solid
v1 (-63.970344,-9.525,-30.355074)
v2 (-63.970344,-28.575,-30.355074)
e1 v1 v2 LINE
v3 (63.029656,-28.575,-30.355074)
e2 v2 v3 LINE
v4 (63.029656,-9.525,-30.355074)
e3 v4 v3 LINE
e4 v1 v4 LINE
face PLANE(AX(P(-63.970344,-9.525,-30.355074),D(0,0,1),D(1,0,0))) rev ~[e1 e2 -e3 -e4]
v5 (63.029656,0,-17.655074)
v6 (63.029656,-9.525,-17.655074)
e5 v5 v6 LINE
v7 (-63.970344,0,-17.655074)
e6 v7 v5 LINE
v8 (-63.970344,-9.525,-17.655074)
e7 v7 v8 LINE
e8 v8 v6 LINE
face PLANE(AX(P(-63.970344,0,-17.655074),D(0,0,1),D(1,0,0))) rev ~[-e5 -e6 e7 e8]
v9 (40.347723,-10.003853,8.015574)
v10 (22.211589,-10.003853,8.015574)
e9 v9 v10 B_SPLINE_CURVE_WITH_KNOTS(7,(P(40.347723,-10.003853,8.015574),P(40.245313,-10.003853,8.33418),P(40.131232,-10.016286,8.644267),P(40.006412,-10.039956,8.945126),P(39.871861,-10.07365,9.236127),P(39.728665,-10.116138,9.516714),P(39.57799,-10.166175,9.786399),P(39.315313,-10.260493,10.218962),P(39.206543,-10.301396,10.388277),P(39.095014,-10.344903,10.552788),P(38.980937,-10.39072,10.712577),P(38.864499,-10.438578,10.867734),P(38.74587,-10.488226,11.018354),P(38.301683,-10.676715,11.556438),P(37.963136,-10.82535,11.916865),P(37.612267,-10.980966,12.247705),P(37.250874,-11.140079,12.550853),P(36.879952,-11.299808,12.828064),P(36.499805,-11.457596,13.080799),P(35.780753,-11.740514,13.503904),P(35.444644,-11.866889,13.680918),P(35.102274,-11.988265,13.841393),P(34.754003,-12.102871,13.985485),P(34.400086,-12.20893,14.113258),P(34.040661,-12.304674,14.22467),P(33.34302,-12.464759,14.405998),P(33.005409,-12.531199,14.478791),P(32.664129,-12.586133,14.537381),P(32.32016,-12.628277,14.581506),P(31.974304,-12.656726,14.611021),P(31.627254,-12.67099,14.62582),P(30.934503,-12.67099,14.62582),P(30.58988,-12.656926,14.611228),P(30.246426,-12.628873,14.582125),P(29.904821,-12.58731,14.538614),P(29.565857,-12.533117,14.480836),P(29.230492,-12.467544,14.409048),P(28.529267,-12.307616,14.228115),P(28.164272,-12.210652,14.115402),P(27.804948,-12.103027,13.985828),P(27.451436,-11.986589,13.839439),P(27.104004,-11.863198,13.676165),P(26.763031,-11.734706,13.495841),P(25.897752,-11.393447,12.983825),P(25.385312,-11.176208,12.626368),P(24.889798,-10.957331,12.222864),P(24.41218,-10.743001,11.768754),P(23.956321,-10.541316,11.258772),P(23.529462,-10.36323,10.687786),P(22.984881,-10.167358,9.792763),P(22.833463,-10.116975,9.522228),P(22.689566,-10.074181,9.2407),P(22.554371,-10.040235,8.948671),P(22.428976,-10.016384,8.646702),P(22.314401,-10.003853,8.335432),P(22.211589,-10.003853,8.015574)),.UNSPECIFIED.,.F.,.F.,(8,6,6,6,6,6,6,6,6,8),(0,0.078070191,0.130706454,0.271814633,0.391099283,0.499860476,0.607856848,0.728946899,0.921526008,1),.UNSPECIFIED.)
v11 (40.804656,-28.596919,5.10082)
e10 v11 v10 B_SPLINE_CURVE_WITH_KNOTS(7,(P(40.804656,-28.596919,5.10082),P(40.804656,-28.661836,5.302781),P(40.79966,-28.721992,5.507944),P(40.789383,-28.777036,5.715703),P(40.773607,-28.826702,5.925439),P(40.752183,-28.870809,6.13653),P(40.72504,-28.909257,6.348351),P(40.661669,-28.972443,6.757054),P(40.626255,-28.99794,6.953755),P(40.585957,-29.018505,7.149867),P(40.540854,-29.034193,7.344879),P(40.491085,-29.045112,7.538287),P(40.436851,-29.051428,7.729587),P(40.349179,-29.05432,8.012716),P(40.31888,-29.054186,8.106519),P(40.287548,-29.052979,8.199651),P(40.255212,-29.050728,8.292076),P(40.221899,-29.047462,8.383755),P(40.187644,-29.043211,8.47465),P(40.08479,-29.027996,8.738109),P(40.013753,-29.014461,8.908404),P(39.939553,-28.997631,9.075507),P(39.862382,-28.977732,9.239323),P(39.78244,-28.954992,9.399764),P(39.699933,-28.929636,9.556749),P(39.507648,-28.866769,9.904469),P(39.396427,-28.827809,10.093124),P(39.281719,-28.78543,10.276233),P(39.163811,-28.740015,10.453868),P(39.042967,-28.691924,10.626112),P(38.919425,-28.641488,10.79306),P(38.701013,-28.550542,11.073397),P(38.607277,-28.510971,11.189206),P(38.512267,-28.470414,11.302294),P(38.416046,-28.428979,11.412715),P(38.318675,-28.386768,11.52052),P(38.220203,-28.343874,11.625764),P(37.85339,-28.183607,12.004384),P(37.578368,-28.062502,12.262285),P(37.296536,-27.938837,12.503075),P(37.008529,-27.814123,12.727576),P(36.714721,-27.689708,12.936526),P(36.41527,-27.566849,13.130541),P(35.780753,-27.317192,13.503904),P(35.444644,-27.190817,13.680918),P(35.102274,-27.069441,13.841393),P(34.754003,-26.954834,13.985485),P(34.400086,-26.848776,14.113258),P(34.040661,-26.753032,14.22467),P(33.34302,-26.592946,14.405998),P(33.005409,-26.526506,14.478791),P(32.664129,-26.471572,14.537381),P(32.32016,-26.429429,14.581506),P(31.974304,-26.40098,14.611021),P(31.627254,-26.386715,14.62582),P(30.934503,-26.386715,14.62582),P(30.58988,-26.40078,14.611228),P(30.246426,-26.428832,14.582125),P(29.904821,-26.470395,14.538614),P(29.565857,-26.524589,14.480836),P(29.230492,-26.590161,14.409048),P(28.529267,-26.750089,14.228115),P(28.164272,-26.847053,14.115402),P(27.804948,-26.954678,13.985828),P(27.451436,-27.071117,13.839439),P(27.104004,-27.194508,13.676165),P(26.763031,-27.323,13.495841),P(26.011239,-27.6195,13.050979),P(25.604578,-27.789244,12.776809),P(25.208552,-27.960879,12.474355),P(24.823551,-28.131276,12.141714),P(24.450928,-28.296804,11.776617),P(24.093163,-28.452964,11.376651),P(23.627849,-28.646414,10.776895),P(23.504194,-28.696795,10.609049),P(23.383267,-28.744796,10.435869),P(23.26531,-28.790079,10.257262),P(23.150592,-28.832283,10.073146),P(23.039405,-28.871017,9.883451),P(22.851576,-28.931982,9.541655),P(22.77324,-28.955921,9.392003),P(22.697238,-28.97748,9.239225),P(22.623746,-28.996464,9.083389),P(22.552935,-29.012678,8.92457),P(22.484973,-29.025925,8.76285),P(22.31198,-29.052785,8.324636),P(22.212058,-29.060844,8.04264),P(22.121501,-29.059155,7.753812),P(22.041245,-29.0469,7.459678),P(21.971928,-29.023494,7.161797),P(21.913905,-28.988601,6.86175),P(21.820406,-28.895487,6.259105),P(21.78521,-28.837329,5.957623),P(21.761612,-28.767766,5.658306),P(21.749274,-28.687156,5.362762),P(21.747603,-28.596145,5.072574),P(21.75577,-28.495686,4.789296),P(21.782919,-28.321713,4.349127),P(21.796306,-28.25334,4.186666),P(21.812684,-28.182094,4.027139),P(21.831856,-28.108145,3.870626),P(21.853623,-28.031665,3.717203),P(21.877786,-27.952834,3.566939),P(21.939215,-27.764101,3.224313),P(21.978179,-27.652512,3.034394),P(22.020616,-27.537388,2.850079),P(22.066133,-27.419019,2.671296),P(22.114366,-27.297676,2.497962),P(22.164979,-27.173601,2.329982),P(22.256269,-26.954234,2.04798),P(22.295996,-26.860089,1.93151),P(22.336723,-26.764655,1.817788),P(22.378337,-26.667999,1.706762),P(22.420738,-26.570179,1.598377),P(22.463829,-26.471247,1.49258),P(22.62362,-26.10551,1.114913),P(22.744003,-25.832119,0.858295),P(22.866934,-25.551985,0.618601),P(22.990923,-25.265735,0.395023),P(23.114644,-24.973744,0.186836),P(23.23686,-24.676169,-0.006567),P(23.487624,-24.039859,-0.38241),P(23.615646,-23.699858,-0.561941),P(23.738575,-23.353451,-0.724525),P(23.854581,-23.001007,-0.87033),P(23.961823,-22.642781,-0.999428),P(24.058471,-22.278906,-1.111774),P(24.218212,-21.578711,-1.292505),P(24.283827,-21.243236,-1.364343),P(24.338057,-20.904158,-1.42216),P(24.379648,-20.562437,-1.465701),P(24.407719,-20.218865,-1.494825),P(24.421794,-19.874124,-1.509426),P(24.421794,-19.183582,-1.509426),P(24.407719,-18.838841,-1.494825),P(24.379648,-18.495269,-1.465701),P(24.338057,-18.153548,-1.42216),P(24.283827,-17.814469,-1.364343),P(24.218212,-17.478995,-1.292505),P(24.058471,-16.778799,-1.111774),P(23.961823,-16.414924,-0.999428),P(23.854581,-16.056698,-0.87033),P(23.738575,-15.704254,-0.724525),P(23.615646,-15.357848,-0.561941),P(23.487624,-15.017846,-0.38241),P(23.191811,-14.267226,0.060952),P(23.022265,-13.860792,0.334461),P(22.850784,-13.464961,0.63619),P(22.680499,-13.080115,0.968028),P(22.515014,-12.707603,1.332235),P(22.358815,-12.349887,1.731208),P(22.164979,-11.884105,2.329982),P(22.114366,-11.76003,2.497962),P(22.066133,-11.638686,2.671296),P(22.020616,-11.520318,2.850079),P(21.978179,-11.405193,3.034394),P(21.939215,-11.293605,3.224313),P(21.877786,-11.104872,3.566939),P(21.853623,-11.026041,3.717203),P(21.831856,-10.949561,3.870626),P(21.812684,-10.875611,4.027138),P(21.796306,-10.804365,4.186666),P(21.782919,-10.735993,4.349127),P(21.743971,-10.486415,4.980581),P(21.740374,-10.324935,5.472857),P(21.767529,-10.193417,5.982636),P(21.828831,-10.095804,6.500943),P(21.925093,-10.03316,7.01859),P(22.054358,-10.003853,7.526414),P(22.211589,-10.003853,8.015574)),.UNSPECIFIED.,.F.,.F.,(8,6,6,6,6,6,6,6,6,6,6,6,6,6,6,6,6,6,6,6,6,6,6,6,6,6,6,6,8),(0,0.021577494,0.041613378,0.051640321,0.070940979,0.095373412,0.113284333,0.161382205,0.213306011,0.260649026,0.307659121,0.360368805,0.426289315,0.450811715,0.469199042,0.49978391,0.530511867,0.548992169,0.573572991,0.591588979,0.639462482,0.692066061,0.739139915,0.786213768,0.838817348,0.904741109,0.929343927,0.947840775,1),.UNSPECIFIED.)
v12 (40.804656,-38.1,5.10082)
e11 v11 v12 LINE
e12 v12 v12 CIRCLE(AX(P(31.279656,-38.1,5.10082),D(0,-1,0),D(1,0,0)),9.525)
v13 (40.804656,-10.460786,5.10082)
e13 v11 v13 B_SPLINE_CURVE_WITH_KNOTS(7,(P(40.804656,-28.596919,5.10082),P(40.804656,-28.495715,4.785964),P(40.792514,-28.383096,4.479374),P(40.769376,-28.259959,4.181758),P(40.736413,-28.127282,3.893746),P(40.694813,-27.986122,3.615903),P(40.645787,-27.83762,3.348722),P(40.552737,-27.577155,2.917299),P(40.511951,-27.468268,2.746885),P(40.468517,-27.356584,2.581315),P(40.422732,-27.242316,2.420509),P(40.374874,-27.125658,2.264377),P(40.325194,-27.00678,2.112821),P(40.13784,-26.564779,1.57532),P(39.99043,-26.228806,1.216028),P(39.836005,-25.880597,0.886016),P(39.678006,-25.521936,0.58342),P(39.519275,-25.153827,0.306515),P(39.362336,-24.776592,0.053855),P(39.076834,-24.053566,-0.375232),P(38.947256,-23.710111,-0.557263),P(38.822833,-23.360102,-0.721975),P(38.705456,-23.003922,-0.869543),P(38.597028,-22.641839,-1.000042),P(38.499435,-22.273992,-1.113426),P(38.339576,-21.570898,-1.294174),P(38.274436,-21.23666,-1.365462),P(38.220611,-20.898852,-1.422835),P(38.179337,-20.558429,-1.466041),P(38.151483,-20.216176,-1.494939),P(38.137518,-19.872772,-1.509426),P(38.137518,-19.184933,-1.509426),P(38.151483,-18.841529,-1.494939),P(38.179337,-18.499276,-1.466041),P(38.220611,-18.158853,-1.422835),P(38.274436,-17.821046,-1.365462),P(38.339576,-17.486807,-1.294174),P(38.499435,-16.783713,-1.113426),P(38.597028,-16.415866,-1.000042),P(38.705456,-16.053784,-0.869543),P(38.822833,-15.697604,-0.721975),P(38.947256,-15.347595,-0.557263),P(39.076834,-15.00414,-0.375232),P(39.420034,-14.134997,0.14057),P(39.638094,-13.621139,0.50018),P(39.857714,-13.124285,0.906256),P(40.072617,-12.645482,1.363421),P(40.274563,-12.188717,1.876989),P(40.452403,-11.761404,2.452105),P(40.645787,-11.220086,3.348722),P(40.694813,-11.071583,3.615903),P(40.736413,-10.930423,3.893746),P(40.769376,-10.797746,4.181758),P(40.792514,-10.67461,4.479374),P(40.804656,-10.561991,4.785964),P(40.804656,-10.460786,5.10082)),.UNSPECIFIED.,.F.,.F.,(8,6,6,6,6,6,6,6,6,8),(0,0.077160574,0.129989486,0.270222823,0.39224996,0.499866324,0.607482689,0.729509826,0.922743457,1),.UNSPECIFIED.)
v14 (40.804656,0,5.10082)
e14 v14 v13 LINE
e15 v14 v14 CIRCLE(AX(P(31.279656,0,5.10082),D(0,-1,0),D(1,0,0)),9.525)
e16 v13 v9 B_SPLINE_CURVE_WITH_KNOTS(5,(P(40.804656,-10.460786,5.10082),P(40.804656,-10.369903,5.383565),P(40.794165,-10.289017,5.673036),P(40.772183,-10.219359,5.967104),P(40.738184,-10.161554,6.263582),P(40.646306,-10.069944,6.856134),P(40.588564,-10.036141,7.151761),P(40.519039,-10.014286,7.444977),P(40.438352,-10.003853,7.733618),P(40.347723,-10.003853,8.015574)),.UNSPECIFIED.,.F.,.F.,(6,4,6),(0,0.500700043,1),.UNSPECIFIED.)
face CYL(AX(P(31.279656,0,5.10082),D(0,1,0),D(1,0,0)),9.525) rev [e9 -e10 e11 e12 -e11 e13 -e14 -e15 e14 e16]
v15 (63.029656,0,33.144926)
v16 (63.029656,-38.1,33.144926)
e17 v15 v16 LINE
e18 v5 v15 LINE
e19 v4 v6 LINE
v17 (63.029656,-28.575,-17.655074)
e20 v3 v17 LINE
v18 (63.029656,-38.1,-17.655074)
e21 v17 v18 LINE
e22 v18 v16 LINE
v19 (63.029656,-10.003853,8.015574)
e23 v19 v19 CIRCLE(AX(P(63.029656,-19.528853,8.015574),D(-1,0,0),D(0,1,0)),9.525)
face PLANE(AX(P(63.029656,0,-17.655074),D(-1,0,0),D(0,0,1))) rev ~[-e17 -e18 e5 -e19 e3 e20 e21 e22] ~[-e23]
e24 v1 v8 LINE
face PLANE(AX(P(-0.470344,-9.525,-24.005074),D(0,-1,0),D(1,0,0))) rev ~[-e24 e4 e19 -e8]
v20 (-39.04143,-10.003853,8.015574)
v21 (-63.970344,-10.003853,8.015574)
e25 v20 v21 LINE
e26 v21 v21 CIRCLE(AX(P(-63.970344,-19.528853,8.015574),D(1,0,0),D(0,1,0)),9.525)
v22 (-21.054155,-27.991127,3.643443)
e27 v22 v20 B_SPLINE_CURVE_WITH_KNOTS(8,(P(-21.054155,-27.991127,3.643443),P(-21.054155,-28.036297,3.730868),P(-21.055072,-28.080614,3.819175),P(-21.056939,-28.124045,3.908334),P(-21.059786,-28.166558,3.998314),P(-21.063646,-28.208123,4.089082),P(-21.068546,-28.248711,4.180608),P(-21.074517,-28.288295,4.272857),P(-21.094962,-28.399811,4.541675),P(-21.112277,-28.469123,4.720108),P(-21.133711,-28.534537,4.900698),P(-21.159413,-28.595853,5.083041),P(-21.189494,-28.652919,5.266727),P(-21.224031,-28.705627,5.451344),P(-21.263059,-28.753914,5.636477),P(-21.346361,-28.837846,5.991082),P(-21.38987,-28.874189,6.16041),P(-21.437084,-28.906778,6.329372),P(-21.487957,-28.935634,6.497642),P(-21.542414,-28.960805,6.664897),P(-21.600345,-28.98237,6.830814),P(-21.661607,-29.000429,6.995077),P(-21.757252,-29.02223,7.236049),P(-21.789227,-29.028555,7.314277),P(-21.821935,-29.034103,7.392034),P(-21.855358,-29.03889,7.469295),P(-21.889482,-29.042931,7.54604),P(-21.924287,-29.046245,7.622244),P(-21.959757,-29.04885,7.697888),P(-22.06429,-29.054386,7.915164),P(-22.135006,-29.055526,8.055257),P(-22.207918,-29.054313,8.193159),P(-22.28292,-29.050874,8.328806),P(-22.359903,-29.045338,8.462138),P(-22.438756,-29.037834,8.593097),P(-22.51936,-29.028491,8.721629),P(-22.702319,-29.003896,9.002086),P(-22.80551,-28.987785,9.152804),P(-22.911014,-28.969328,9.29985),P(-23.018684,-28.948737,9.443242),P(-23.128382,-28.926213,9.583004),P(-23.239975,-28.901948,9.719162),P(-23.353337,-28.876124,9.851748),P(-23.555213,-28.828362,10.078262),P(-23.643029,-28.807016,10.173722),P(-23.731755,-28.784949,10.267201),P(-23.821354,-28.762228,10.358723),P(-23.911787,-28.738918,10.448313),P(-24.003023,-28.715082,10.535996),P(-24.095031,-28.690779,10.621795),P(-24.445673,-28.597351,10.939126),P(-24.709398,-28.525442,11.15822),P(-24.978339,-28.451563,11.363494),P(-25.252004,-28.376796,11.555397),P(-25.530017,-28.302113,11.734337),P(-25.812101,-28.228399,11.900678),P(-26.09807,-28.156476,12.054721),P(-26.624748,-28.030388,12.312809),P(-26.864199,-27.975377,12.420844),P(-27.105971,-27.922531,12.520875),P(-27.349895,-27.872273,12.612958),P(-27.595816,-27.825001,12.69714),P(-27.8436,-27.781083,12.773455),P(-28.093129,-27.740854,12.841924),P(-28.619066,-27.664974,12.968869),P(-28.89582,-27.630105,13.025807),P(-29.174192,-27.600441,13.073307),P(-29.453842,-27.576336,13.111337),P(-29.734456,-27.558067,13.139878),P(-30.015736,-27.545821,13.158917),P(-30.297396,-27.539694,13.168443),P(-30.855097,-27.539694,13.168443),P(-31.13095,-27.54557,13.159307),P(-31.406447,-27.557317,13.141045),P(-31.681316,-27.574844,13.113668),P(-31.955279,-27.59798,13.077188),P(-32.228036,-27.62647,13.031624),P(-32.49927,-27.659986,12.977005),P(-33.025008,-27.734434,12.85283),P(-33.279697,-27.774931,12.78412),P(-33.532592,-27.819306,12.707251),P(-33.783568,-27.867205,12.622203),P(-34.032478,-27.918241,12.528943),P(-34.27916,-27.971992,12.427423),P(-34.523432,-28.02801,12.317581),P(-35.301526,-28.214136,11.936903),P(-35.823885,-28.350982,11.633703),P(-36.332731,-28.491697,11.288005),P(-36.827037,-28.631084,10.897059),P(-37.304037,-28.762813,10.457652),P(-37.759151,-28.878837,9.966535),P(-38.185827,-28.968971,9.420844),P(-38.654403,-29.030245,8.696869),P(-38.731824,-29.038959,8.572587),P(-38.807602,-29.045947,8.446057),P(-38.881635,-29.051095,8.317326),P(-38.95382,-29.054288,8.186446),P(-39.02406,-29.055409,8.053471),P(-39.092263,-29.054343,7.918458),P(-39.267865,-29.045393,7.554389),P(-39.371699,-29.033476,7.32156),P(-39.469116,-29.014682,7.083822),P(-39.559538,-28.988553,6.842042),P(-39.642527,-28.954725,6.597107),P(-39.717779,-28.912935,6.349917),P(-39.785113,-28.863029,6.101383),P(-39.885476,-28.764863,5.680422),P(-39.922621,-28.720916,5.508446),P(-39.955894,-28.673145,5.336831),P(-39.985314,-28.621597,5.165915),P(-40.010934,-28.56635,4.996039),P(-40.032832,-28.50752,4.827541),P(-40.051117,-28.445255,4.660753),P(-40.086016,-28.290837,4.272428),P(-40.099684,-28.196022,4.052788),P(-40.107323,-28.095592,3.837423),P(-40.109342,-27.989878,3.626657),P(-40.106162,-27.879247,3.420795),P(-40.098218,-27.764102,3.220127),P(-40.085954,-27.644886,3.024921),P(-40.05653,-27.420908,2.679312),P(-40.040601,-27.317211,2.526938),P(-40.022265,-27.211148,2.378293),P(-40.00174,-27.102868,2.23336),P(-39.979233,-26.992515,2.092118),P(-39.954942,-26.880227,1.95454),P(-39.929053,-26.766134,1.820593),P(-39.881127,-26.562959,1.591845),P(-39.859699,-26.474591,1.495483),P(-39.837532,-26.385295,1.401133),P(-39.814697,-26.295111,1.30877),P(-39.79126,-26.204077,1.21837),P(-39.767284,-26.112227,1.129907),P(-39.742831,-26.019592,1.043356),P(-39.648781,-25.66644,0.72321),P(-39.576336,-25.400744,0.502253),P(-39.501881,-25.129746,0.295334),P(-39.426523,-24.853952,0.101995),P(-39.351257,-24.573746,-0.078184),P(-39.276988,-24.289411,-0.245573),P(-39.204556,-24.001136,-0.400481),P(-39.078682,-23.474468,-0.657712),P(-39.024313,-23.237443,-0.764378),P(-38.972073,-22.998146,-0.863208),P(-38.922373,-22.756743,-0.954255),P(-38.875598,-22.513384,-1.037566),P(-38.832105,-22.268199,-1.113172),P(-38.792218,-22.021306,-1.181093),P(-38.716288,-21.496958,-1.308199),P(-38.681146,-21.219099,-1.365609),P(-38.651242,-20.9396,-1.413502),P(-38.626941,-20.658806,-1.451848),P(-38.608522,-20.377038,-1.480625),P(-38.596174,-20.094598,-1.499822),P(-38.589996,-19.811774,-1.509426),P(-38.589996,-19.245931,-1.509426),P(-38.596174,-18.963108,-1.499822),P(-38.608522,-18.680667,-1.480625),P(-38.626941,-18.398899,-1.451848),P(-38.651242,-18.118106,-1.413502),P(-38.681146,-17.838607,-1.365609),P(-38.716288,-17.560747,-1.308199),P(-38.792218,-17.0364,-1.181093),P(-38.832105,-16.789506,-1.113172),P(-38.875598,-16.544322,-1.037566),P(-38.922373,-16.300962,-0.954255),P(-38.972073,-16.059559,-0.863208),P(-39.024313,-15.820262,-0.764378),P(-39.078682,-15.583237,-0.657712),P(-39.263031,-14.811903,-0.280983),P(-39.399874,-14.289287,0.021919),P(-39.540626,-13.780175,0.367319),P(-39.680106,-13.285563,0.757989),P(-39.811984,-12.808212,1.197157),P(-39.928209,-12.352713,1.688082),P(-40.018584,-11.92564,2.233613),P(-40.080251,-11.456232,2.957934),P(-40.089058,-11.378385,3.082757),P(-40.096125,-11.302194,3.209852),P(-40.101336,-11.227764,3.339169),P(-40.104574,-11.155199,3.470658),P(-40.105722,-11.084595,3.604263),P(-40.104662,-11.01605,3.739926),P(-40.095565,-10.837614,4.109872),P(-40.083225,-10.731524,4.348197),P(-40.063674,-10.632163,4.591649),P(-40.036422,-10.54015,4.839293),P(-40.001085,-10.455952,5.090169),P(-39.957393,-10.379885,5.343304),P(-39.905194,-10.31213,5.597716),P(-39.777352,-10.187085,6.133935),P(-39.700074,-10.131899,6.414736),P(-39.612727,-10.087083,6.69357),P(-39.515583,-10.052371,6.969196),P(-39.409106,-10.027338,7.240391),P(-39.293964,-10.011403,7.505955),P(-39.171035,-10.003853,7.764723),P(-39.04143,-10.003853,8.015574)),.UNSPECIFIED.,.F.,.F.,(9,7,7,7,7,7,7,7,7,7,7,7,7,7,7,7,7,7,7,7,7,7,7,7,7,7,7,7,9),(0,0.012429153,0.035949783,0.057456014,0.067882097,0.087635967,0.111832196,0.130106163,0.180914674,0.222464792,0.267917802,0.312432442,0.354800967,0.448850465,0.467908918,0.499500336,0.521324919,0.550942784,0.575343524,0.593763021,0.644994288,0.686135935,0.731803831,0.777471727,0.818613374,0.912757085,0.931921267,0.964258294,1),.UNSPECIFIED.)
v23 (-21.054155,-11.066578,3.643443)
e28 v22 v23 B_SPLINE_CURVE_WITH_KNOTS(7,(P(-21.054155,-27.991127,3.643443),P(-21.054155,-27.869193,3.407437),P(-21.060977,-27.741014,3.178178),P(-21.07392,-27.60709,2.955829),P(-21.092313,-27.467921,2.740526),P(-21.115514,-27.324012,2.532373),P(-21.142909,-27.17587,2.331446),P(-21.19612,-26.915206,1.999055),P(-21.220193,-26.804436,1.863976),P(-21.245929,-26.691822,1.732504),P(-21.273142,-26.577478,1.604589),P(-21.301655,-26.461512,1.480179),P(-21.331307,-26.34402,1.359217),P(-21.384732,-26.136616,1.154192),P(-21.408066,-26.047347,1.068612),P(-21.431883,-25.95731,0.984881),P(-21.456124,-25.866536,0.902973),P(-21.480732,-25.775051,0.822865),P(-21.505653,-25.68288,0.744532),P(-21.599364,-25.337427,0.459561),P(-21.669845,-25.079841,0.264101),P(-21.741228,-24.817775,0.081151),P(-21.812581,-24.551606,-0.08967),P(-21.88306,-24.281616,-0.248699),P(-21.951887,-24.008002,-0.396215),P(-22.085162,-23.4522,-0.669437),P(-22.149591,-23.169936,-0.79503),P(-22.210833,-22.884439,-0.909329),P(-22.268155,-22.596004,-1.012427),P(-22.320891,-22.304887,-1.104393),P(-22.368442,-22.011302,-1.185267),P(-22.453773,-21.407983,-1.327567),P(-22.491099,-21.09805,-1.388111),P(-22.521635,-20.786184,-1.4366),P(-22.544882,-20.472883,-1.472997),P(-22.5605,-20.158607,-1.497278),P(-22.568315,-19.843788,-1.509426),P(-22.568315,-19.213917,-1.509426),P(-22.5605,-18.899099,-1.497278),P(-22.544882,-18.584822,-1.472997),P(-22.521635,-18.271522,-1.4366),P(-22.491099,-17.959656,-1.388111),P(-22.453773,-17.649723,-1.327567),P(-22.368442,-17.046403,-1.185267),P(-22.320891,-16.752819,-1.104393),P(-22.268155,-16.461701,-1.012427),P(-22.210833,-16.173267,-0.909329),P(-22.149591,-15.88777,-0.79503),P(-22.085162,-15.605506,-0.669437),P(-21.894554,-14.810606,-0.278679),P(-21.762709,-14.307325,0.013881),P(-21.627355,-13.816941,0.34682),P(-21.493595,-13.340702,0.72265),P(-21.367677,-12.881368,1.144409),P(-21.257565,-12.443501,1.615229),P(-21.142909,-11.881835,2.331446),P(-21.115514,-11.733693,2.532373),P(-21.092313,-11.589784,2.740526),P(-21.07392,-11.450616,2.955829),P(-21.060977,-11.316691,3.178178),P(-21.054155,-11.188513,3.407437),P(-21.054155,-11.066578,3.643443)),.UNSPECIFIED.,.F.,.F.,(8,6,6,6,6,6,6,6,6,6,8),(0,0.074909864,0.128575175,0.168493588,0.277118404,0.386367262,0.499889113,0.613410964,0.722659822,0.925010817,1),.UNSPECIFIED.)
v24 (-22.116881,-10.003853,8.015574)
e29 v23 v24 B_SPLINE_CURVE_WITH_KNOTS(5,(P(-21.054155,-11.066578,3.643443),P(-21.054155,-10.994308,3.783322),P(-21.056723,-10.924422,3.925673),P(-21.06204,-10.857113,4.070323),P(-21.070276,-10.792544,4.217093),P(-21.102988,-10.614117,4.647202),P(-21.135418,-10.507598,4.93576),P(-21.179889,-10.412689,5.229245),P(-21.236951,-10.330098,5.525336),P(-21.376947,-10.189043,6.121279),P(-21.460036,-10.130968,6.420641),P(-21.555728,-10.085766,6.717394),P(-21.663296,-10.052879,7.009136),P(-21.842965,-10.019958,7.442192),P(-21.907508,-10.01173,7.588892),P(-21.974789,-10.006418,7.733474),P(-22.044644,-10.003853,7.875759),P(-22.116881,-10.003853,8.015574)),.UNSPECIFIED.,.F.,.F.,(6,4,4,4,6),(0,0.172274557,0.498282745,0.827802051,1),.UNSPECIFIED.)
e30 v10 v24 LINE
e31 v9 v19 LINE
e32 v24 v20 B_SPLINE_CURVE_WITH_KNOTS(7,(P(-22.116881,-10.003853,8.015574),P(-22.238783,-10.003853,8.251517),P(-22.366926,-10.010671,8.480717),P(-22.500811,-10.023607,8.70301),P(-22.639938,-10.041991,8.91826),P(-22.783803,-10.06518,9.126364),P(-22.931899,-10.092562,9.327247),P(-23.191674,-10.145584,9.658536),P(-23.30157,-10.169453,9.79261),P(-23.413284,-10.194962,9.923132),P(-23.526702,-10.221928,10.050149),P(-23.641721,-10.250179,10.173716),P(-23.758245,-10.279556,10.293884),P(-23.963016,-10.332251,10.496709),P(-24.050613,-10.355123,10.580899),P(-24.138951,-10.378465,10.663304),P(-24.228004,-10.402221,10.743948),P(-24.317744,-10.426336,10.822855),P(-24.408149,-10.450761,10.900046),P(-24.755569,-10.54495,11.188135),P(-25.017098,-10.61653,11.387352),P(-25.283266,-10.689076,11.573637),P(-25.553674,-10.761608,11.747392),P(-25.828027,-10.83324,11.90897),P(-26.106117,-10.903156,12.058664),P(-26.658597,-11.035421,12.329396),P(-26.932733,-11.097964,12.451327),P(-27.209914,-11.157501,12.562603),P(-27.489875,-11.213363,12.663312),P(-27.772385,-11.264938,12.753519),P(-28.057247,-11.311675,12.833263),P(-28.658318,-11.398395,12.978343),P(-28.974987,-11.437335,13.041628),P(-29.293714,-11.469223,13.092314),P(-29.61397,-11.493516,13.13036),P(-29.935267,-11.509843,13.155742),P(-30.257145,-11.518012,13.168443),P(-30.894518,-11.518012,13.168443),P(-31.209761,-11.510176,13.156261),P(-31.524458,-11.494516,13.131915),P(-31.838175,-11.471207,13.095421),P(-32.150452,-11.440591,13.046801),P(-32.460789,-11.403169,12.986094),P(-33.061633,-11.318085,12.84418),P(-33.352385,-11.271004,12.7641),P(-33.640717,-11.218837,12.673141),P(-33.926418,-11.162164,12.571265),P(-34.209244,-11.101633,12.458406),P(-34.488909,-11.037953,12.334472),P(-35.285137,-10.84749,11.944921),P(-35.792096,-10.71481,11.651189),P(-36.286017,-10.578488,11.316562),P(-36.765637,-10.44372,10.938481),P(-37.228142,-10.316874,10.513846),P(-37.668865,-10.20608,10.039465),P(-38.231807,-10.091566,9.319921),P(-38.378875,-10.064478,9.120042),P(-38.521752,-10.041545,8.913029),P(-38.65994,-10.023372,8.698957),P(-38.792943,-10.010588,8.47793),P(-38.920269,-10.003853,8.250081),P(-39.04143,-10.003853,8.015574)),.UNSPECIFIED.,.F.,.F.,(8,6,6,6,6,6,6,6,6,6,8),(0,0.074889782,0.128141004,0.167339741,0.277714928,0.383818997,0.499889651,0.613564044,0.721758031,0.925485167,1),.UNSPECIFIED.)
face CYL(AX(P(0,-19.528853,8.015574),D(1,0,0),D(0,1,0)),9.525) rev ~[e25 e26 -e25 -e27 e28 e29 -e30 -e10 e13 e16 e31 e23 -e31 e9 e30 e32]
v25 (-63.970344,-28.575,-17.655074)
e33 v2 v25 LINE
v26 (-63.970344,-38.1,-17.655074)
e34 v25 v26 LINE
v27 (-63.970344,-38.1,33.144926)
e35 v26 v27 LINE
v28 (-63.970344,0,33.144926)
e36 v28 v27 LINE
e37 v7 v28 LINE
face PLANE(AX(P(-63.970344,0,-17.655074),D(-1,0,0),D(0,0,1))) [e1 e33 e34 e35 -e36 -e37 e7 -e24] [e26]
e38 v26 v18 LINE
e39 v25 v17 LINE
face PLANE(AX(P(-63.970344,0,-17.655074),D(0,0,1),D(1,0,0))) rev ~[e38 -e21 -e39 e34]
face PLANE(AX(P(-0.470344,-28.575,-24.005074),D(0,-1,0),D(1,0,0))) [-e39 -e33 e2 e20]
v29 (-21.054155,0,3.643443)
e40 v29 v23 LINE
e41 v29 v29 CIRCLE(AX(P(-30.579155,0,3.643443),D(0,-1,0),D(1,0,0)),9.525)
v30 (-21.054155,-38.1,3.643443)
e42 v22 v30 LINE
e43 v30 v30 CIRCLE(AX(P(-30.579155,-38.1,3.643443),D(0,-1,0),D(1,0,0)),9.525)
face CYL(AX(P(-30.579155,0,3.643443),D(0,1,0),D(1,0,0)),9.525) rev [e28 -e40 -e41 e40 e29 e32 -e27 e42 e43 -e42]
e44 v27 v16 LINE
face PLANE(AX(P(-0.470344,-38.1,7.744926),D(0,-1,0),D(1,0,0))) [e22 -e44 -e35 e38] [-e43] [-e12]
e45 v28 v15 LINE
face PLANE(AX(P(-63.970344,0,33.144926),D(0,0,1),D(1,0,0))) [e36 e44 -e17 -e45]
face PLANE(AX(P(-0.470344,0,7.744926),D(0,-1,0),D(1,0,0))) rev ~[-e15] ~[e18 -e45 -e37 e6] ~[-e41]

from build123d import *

# Parameters (mm, degrees)
F0_W          = 127
F0_H          = 50.8
F0_R          = 9.525
F1_DEPTH      = 38.1
F2_START      = 9.525
F0_H_2        = 12.7
F2_DEPTH      = 19.05
F3_R          = 9.525
F4_DEPTH      = 74.93
F4_DEPTH_BACK = 90.678


with BuildPart() as f1:
    # F0 (on Front) → F1 (new body)
    with BuildSketch(Plane.XZ):
        with Locations((-0.4703439772, 7.7449264884)):
            Rectangle(F0_W, F0_H)
        with Locations((-30.579155311, 3.6434426438)):
            Circle(F0_R, mode=Mode.SUBTRACT)
        with Locations((31.2796560228, 5.1008197479)):
            Circle(F0_R, mode=Mode.SUBTRACT)
    extrude(amount=F1_DEPTH)

    # F0 (on Front) → F2 (join)
    with BuildSketch(Plane.XZ.offset(F2_START)):
        with Locations((-0.4703439772, -24.0050735116)):
            Rectangle(F0_W, F0_H_2)
    extrude(amount=F2_DEPTH)

    # F3 (on Right) → F4 (cut, two sides)
    with BuildSketch(Plane.YZ) as f4_sk:
        with Locations((-19.5288527757, 8.0155739561)):
            Circle(F3_R)
    extrude(amount=F4_DEPTH, mode=Mode.SUBTRACT)
    extrude(f4_sk.sketch, amount=-F4_DEPTH_BACK, mode=Mode.SUBTRACT)


solid = f1.part
